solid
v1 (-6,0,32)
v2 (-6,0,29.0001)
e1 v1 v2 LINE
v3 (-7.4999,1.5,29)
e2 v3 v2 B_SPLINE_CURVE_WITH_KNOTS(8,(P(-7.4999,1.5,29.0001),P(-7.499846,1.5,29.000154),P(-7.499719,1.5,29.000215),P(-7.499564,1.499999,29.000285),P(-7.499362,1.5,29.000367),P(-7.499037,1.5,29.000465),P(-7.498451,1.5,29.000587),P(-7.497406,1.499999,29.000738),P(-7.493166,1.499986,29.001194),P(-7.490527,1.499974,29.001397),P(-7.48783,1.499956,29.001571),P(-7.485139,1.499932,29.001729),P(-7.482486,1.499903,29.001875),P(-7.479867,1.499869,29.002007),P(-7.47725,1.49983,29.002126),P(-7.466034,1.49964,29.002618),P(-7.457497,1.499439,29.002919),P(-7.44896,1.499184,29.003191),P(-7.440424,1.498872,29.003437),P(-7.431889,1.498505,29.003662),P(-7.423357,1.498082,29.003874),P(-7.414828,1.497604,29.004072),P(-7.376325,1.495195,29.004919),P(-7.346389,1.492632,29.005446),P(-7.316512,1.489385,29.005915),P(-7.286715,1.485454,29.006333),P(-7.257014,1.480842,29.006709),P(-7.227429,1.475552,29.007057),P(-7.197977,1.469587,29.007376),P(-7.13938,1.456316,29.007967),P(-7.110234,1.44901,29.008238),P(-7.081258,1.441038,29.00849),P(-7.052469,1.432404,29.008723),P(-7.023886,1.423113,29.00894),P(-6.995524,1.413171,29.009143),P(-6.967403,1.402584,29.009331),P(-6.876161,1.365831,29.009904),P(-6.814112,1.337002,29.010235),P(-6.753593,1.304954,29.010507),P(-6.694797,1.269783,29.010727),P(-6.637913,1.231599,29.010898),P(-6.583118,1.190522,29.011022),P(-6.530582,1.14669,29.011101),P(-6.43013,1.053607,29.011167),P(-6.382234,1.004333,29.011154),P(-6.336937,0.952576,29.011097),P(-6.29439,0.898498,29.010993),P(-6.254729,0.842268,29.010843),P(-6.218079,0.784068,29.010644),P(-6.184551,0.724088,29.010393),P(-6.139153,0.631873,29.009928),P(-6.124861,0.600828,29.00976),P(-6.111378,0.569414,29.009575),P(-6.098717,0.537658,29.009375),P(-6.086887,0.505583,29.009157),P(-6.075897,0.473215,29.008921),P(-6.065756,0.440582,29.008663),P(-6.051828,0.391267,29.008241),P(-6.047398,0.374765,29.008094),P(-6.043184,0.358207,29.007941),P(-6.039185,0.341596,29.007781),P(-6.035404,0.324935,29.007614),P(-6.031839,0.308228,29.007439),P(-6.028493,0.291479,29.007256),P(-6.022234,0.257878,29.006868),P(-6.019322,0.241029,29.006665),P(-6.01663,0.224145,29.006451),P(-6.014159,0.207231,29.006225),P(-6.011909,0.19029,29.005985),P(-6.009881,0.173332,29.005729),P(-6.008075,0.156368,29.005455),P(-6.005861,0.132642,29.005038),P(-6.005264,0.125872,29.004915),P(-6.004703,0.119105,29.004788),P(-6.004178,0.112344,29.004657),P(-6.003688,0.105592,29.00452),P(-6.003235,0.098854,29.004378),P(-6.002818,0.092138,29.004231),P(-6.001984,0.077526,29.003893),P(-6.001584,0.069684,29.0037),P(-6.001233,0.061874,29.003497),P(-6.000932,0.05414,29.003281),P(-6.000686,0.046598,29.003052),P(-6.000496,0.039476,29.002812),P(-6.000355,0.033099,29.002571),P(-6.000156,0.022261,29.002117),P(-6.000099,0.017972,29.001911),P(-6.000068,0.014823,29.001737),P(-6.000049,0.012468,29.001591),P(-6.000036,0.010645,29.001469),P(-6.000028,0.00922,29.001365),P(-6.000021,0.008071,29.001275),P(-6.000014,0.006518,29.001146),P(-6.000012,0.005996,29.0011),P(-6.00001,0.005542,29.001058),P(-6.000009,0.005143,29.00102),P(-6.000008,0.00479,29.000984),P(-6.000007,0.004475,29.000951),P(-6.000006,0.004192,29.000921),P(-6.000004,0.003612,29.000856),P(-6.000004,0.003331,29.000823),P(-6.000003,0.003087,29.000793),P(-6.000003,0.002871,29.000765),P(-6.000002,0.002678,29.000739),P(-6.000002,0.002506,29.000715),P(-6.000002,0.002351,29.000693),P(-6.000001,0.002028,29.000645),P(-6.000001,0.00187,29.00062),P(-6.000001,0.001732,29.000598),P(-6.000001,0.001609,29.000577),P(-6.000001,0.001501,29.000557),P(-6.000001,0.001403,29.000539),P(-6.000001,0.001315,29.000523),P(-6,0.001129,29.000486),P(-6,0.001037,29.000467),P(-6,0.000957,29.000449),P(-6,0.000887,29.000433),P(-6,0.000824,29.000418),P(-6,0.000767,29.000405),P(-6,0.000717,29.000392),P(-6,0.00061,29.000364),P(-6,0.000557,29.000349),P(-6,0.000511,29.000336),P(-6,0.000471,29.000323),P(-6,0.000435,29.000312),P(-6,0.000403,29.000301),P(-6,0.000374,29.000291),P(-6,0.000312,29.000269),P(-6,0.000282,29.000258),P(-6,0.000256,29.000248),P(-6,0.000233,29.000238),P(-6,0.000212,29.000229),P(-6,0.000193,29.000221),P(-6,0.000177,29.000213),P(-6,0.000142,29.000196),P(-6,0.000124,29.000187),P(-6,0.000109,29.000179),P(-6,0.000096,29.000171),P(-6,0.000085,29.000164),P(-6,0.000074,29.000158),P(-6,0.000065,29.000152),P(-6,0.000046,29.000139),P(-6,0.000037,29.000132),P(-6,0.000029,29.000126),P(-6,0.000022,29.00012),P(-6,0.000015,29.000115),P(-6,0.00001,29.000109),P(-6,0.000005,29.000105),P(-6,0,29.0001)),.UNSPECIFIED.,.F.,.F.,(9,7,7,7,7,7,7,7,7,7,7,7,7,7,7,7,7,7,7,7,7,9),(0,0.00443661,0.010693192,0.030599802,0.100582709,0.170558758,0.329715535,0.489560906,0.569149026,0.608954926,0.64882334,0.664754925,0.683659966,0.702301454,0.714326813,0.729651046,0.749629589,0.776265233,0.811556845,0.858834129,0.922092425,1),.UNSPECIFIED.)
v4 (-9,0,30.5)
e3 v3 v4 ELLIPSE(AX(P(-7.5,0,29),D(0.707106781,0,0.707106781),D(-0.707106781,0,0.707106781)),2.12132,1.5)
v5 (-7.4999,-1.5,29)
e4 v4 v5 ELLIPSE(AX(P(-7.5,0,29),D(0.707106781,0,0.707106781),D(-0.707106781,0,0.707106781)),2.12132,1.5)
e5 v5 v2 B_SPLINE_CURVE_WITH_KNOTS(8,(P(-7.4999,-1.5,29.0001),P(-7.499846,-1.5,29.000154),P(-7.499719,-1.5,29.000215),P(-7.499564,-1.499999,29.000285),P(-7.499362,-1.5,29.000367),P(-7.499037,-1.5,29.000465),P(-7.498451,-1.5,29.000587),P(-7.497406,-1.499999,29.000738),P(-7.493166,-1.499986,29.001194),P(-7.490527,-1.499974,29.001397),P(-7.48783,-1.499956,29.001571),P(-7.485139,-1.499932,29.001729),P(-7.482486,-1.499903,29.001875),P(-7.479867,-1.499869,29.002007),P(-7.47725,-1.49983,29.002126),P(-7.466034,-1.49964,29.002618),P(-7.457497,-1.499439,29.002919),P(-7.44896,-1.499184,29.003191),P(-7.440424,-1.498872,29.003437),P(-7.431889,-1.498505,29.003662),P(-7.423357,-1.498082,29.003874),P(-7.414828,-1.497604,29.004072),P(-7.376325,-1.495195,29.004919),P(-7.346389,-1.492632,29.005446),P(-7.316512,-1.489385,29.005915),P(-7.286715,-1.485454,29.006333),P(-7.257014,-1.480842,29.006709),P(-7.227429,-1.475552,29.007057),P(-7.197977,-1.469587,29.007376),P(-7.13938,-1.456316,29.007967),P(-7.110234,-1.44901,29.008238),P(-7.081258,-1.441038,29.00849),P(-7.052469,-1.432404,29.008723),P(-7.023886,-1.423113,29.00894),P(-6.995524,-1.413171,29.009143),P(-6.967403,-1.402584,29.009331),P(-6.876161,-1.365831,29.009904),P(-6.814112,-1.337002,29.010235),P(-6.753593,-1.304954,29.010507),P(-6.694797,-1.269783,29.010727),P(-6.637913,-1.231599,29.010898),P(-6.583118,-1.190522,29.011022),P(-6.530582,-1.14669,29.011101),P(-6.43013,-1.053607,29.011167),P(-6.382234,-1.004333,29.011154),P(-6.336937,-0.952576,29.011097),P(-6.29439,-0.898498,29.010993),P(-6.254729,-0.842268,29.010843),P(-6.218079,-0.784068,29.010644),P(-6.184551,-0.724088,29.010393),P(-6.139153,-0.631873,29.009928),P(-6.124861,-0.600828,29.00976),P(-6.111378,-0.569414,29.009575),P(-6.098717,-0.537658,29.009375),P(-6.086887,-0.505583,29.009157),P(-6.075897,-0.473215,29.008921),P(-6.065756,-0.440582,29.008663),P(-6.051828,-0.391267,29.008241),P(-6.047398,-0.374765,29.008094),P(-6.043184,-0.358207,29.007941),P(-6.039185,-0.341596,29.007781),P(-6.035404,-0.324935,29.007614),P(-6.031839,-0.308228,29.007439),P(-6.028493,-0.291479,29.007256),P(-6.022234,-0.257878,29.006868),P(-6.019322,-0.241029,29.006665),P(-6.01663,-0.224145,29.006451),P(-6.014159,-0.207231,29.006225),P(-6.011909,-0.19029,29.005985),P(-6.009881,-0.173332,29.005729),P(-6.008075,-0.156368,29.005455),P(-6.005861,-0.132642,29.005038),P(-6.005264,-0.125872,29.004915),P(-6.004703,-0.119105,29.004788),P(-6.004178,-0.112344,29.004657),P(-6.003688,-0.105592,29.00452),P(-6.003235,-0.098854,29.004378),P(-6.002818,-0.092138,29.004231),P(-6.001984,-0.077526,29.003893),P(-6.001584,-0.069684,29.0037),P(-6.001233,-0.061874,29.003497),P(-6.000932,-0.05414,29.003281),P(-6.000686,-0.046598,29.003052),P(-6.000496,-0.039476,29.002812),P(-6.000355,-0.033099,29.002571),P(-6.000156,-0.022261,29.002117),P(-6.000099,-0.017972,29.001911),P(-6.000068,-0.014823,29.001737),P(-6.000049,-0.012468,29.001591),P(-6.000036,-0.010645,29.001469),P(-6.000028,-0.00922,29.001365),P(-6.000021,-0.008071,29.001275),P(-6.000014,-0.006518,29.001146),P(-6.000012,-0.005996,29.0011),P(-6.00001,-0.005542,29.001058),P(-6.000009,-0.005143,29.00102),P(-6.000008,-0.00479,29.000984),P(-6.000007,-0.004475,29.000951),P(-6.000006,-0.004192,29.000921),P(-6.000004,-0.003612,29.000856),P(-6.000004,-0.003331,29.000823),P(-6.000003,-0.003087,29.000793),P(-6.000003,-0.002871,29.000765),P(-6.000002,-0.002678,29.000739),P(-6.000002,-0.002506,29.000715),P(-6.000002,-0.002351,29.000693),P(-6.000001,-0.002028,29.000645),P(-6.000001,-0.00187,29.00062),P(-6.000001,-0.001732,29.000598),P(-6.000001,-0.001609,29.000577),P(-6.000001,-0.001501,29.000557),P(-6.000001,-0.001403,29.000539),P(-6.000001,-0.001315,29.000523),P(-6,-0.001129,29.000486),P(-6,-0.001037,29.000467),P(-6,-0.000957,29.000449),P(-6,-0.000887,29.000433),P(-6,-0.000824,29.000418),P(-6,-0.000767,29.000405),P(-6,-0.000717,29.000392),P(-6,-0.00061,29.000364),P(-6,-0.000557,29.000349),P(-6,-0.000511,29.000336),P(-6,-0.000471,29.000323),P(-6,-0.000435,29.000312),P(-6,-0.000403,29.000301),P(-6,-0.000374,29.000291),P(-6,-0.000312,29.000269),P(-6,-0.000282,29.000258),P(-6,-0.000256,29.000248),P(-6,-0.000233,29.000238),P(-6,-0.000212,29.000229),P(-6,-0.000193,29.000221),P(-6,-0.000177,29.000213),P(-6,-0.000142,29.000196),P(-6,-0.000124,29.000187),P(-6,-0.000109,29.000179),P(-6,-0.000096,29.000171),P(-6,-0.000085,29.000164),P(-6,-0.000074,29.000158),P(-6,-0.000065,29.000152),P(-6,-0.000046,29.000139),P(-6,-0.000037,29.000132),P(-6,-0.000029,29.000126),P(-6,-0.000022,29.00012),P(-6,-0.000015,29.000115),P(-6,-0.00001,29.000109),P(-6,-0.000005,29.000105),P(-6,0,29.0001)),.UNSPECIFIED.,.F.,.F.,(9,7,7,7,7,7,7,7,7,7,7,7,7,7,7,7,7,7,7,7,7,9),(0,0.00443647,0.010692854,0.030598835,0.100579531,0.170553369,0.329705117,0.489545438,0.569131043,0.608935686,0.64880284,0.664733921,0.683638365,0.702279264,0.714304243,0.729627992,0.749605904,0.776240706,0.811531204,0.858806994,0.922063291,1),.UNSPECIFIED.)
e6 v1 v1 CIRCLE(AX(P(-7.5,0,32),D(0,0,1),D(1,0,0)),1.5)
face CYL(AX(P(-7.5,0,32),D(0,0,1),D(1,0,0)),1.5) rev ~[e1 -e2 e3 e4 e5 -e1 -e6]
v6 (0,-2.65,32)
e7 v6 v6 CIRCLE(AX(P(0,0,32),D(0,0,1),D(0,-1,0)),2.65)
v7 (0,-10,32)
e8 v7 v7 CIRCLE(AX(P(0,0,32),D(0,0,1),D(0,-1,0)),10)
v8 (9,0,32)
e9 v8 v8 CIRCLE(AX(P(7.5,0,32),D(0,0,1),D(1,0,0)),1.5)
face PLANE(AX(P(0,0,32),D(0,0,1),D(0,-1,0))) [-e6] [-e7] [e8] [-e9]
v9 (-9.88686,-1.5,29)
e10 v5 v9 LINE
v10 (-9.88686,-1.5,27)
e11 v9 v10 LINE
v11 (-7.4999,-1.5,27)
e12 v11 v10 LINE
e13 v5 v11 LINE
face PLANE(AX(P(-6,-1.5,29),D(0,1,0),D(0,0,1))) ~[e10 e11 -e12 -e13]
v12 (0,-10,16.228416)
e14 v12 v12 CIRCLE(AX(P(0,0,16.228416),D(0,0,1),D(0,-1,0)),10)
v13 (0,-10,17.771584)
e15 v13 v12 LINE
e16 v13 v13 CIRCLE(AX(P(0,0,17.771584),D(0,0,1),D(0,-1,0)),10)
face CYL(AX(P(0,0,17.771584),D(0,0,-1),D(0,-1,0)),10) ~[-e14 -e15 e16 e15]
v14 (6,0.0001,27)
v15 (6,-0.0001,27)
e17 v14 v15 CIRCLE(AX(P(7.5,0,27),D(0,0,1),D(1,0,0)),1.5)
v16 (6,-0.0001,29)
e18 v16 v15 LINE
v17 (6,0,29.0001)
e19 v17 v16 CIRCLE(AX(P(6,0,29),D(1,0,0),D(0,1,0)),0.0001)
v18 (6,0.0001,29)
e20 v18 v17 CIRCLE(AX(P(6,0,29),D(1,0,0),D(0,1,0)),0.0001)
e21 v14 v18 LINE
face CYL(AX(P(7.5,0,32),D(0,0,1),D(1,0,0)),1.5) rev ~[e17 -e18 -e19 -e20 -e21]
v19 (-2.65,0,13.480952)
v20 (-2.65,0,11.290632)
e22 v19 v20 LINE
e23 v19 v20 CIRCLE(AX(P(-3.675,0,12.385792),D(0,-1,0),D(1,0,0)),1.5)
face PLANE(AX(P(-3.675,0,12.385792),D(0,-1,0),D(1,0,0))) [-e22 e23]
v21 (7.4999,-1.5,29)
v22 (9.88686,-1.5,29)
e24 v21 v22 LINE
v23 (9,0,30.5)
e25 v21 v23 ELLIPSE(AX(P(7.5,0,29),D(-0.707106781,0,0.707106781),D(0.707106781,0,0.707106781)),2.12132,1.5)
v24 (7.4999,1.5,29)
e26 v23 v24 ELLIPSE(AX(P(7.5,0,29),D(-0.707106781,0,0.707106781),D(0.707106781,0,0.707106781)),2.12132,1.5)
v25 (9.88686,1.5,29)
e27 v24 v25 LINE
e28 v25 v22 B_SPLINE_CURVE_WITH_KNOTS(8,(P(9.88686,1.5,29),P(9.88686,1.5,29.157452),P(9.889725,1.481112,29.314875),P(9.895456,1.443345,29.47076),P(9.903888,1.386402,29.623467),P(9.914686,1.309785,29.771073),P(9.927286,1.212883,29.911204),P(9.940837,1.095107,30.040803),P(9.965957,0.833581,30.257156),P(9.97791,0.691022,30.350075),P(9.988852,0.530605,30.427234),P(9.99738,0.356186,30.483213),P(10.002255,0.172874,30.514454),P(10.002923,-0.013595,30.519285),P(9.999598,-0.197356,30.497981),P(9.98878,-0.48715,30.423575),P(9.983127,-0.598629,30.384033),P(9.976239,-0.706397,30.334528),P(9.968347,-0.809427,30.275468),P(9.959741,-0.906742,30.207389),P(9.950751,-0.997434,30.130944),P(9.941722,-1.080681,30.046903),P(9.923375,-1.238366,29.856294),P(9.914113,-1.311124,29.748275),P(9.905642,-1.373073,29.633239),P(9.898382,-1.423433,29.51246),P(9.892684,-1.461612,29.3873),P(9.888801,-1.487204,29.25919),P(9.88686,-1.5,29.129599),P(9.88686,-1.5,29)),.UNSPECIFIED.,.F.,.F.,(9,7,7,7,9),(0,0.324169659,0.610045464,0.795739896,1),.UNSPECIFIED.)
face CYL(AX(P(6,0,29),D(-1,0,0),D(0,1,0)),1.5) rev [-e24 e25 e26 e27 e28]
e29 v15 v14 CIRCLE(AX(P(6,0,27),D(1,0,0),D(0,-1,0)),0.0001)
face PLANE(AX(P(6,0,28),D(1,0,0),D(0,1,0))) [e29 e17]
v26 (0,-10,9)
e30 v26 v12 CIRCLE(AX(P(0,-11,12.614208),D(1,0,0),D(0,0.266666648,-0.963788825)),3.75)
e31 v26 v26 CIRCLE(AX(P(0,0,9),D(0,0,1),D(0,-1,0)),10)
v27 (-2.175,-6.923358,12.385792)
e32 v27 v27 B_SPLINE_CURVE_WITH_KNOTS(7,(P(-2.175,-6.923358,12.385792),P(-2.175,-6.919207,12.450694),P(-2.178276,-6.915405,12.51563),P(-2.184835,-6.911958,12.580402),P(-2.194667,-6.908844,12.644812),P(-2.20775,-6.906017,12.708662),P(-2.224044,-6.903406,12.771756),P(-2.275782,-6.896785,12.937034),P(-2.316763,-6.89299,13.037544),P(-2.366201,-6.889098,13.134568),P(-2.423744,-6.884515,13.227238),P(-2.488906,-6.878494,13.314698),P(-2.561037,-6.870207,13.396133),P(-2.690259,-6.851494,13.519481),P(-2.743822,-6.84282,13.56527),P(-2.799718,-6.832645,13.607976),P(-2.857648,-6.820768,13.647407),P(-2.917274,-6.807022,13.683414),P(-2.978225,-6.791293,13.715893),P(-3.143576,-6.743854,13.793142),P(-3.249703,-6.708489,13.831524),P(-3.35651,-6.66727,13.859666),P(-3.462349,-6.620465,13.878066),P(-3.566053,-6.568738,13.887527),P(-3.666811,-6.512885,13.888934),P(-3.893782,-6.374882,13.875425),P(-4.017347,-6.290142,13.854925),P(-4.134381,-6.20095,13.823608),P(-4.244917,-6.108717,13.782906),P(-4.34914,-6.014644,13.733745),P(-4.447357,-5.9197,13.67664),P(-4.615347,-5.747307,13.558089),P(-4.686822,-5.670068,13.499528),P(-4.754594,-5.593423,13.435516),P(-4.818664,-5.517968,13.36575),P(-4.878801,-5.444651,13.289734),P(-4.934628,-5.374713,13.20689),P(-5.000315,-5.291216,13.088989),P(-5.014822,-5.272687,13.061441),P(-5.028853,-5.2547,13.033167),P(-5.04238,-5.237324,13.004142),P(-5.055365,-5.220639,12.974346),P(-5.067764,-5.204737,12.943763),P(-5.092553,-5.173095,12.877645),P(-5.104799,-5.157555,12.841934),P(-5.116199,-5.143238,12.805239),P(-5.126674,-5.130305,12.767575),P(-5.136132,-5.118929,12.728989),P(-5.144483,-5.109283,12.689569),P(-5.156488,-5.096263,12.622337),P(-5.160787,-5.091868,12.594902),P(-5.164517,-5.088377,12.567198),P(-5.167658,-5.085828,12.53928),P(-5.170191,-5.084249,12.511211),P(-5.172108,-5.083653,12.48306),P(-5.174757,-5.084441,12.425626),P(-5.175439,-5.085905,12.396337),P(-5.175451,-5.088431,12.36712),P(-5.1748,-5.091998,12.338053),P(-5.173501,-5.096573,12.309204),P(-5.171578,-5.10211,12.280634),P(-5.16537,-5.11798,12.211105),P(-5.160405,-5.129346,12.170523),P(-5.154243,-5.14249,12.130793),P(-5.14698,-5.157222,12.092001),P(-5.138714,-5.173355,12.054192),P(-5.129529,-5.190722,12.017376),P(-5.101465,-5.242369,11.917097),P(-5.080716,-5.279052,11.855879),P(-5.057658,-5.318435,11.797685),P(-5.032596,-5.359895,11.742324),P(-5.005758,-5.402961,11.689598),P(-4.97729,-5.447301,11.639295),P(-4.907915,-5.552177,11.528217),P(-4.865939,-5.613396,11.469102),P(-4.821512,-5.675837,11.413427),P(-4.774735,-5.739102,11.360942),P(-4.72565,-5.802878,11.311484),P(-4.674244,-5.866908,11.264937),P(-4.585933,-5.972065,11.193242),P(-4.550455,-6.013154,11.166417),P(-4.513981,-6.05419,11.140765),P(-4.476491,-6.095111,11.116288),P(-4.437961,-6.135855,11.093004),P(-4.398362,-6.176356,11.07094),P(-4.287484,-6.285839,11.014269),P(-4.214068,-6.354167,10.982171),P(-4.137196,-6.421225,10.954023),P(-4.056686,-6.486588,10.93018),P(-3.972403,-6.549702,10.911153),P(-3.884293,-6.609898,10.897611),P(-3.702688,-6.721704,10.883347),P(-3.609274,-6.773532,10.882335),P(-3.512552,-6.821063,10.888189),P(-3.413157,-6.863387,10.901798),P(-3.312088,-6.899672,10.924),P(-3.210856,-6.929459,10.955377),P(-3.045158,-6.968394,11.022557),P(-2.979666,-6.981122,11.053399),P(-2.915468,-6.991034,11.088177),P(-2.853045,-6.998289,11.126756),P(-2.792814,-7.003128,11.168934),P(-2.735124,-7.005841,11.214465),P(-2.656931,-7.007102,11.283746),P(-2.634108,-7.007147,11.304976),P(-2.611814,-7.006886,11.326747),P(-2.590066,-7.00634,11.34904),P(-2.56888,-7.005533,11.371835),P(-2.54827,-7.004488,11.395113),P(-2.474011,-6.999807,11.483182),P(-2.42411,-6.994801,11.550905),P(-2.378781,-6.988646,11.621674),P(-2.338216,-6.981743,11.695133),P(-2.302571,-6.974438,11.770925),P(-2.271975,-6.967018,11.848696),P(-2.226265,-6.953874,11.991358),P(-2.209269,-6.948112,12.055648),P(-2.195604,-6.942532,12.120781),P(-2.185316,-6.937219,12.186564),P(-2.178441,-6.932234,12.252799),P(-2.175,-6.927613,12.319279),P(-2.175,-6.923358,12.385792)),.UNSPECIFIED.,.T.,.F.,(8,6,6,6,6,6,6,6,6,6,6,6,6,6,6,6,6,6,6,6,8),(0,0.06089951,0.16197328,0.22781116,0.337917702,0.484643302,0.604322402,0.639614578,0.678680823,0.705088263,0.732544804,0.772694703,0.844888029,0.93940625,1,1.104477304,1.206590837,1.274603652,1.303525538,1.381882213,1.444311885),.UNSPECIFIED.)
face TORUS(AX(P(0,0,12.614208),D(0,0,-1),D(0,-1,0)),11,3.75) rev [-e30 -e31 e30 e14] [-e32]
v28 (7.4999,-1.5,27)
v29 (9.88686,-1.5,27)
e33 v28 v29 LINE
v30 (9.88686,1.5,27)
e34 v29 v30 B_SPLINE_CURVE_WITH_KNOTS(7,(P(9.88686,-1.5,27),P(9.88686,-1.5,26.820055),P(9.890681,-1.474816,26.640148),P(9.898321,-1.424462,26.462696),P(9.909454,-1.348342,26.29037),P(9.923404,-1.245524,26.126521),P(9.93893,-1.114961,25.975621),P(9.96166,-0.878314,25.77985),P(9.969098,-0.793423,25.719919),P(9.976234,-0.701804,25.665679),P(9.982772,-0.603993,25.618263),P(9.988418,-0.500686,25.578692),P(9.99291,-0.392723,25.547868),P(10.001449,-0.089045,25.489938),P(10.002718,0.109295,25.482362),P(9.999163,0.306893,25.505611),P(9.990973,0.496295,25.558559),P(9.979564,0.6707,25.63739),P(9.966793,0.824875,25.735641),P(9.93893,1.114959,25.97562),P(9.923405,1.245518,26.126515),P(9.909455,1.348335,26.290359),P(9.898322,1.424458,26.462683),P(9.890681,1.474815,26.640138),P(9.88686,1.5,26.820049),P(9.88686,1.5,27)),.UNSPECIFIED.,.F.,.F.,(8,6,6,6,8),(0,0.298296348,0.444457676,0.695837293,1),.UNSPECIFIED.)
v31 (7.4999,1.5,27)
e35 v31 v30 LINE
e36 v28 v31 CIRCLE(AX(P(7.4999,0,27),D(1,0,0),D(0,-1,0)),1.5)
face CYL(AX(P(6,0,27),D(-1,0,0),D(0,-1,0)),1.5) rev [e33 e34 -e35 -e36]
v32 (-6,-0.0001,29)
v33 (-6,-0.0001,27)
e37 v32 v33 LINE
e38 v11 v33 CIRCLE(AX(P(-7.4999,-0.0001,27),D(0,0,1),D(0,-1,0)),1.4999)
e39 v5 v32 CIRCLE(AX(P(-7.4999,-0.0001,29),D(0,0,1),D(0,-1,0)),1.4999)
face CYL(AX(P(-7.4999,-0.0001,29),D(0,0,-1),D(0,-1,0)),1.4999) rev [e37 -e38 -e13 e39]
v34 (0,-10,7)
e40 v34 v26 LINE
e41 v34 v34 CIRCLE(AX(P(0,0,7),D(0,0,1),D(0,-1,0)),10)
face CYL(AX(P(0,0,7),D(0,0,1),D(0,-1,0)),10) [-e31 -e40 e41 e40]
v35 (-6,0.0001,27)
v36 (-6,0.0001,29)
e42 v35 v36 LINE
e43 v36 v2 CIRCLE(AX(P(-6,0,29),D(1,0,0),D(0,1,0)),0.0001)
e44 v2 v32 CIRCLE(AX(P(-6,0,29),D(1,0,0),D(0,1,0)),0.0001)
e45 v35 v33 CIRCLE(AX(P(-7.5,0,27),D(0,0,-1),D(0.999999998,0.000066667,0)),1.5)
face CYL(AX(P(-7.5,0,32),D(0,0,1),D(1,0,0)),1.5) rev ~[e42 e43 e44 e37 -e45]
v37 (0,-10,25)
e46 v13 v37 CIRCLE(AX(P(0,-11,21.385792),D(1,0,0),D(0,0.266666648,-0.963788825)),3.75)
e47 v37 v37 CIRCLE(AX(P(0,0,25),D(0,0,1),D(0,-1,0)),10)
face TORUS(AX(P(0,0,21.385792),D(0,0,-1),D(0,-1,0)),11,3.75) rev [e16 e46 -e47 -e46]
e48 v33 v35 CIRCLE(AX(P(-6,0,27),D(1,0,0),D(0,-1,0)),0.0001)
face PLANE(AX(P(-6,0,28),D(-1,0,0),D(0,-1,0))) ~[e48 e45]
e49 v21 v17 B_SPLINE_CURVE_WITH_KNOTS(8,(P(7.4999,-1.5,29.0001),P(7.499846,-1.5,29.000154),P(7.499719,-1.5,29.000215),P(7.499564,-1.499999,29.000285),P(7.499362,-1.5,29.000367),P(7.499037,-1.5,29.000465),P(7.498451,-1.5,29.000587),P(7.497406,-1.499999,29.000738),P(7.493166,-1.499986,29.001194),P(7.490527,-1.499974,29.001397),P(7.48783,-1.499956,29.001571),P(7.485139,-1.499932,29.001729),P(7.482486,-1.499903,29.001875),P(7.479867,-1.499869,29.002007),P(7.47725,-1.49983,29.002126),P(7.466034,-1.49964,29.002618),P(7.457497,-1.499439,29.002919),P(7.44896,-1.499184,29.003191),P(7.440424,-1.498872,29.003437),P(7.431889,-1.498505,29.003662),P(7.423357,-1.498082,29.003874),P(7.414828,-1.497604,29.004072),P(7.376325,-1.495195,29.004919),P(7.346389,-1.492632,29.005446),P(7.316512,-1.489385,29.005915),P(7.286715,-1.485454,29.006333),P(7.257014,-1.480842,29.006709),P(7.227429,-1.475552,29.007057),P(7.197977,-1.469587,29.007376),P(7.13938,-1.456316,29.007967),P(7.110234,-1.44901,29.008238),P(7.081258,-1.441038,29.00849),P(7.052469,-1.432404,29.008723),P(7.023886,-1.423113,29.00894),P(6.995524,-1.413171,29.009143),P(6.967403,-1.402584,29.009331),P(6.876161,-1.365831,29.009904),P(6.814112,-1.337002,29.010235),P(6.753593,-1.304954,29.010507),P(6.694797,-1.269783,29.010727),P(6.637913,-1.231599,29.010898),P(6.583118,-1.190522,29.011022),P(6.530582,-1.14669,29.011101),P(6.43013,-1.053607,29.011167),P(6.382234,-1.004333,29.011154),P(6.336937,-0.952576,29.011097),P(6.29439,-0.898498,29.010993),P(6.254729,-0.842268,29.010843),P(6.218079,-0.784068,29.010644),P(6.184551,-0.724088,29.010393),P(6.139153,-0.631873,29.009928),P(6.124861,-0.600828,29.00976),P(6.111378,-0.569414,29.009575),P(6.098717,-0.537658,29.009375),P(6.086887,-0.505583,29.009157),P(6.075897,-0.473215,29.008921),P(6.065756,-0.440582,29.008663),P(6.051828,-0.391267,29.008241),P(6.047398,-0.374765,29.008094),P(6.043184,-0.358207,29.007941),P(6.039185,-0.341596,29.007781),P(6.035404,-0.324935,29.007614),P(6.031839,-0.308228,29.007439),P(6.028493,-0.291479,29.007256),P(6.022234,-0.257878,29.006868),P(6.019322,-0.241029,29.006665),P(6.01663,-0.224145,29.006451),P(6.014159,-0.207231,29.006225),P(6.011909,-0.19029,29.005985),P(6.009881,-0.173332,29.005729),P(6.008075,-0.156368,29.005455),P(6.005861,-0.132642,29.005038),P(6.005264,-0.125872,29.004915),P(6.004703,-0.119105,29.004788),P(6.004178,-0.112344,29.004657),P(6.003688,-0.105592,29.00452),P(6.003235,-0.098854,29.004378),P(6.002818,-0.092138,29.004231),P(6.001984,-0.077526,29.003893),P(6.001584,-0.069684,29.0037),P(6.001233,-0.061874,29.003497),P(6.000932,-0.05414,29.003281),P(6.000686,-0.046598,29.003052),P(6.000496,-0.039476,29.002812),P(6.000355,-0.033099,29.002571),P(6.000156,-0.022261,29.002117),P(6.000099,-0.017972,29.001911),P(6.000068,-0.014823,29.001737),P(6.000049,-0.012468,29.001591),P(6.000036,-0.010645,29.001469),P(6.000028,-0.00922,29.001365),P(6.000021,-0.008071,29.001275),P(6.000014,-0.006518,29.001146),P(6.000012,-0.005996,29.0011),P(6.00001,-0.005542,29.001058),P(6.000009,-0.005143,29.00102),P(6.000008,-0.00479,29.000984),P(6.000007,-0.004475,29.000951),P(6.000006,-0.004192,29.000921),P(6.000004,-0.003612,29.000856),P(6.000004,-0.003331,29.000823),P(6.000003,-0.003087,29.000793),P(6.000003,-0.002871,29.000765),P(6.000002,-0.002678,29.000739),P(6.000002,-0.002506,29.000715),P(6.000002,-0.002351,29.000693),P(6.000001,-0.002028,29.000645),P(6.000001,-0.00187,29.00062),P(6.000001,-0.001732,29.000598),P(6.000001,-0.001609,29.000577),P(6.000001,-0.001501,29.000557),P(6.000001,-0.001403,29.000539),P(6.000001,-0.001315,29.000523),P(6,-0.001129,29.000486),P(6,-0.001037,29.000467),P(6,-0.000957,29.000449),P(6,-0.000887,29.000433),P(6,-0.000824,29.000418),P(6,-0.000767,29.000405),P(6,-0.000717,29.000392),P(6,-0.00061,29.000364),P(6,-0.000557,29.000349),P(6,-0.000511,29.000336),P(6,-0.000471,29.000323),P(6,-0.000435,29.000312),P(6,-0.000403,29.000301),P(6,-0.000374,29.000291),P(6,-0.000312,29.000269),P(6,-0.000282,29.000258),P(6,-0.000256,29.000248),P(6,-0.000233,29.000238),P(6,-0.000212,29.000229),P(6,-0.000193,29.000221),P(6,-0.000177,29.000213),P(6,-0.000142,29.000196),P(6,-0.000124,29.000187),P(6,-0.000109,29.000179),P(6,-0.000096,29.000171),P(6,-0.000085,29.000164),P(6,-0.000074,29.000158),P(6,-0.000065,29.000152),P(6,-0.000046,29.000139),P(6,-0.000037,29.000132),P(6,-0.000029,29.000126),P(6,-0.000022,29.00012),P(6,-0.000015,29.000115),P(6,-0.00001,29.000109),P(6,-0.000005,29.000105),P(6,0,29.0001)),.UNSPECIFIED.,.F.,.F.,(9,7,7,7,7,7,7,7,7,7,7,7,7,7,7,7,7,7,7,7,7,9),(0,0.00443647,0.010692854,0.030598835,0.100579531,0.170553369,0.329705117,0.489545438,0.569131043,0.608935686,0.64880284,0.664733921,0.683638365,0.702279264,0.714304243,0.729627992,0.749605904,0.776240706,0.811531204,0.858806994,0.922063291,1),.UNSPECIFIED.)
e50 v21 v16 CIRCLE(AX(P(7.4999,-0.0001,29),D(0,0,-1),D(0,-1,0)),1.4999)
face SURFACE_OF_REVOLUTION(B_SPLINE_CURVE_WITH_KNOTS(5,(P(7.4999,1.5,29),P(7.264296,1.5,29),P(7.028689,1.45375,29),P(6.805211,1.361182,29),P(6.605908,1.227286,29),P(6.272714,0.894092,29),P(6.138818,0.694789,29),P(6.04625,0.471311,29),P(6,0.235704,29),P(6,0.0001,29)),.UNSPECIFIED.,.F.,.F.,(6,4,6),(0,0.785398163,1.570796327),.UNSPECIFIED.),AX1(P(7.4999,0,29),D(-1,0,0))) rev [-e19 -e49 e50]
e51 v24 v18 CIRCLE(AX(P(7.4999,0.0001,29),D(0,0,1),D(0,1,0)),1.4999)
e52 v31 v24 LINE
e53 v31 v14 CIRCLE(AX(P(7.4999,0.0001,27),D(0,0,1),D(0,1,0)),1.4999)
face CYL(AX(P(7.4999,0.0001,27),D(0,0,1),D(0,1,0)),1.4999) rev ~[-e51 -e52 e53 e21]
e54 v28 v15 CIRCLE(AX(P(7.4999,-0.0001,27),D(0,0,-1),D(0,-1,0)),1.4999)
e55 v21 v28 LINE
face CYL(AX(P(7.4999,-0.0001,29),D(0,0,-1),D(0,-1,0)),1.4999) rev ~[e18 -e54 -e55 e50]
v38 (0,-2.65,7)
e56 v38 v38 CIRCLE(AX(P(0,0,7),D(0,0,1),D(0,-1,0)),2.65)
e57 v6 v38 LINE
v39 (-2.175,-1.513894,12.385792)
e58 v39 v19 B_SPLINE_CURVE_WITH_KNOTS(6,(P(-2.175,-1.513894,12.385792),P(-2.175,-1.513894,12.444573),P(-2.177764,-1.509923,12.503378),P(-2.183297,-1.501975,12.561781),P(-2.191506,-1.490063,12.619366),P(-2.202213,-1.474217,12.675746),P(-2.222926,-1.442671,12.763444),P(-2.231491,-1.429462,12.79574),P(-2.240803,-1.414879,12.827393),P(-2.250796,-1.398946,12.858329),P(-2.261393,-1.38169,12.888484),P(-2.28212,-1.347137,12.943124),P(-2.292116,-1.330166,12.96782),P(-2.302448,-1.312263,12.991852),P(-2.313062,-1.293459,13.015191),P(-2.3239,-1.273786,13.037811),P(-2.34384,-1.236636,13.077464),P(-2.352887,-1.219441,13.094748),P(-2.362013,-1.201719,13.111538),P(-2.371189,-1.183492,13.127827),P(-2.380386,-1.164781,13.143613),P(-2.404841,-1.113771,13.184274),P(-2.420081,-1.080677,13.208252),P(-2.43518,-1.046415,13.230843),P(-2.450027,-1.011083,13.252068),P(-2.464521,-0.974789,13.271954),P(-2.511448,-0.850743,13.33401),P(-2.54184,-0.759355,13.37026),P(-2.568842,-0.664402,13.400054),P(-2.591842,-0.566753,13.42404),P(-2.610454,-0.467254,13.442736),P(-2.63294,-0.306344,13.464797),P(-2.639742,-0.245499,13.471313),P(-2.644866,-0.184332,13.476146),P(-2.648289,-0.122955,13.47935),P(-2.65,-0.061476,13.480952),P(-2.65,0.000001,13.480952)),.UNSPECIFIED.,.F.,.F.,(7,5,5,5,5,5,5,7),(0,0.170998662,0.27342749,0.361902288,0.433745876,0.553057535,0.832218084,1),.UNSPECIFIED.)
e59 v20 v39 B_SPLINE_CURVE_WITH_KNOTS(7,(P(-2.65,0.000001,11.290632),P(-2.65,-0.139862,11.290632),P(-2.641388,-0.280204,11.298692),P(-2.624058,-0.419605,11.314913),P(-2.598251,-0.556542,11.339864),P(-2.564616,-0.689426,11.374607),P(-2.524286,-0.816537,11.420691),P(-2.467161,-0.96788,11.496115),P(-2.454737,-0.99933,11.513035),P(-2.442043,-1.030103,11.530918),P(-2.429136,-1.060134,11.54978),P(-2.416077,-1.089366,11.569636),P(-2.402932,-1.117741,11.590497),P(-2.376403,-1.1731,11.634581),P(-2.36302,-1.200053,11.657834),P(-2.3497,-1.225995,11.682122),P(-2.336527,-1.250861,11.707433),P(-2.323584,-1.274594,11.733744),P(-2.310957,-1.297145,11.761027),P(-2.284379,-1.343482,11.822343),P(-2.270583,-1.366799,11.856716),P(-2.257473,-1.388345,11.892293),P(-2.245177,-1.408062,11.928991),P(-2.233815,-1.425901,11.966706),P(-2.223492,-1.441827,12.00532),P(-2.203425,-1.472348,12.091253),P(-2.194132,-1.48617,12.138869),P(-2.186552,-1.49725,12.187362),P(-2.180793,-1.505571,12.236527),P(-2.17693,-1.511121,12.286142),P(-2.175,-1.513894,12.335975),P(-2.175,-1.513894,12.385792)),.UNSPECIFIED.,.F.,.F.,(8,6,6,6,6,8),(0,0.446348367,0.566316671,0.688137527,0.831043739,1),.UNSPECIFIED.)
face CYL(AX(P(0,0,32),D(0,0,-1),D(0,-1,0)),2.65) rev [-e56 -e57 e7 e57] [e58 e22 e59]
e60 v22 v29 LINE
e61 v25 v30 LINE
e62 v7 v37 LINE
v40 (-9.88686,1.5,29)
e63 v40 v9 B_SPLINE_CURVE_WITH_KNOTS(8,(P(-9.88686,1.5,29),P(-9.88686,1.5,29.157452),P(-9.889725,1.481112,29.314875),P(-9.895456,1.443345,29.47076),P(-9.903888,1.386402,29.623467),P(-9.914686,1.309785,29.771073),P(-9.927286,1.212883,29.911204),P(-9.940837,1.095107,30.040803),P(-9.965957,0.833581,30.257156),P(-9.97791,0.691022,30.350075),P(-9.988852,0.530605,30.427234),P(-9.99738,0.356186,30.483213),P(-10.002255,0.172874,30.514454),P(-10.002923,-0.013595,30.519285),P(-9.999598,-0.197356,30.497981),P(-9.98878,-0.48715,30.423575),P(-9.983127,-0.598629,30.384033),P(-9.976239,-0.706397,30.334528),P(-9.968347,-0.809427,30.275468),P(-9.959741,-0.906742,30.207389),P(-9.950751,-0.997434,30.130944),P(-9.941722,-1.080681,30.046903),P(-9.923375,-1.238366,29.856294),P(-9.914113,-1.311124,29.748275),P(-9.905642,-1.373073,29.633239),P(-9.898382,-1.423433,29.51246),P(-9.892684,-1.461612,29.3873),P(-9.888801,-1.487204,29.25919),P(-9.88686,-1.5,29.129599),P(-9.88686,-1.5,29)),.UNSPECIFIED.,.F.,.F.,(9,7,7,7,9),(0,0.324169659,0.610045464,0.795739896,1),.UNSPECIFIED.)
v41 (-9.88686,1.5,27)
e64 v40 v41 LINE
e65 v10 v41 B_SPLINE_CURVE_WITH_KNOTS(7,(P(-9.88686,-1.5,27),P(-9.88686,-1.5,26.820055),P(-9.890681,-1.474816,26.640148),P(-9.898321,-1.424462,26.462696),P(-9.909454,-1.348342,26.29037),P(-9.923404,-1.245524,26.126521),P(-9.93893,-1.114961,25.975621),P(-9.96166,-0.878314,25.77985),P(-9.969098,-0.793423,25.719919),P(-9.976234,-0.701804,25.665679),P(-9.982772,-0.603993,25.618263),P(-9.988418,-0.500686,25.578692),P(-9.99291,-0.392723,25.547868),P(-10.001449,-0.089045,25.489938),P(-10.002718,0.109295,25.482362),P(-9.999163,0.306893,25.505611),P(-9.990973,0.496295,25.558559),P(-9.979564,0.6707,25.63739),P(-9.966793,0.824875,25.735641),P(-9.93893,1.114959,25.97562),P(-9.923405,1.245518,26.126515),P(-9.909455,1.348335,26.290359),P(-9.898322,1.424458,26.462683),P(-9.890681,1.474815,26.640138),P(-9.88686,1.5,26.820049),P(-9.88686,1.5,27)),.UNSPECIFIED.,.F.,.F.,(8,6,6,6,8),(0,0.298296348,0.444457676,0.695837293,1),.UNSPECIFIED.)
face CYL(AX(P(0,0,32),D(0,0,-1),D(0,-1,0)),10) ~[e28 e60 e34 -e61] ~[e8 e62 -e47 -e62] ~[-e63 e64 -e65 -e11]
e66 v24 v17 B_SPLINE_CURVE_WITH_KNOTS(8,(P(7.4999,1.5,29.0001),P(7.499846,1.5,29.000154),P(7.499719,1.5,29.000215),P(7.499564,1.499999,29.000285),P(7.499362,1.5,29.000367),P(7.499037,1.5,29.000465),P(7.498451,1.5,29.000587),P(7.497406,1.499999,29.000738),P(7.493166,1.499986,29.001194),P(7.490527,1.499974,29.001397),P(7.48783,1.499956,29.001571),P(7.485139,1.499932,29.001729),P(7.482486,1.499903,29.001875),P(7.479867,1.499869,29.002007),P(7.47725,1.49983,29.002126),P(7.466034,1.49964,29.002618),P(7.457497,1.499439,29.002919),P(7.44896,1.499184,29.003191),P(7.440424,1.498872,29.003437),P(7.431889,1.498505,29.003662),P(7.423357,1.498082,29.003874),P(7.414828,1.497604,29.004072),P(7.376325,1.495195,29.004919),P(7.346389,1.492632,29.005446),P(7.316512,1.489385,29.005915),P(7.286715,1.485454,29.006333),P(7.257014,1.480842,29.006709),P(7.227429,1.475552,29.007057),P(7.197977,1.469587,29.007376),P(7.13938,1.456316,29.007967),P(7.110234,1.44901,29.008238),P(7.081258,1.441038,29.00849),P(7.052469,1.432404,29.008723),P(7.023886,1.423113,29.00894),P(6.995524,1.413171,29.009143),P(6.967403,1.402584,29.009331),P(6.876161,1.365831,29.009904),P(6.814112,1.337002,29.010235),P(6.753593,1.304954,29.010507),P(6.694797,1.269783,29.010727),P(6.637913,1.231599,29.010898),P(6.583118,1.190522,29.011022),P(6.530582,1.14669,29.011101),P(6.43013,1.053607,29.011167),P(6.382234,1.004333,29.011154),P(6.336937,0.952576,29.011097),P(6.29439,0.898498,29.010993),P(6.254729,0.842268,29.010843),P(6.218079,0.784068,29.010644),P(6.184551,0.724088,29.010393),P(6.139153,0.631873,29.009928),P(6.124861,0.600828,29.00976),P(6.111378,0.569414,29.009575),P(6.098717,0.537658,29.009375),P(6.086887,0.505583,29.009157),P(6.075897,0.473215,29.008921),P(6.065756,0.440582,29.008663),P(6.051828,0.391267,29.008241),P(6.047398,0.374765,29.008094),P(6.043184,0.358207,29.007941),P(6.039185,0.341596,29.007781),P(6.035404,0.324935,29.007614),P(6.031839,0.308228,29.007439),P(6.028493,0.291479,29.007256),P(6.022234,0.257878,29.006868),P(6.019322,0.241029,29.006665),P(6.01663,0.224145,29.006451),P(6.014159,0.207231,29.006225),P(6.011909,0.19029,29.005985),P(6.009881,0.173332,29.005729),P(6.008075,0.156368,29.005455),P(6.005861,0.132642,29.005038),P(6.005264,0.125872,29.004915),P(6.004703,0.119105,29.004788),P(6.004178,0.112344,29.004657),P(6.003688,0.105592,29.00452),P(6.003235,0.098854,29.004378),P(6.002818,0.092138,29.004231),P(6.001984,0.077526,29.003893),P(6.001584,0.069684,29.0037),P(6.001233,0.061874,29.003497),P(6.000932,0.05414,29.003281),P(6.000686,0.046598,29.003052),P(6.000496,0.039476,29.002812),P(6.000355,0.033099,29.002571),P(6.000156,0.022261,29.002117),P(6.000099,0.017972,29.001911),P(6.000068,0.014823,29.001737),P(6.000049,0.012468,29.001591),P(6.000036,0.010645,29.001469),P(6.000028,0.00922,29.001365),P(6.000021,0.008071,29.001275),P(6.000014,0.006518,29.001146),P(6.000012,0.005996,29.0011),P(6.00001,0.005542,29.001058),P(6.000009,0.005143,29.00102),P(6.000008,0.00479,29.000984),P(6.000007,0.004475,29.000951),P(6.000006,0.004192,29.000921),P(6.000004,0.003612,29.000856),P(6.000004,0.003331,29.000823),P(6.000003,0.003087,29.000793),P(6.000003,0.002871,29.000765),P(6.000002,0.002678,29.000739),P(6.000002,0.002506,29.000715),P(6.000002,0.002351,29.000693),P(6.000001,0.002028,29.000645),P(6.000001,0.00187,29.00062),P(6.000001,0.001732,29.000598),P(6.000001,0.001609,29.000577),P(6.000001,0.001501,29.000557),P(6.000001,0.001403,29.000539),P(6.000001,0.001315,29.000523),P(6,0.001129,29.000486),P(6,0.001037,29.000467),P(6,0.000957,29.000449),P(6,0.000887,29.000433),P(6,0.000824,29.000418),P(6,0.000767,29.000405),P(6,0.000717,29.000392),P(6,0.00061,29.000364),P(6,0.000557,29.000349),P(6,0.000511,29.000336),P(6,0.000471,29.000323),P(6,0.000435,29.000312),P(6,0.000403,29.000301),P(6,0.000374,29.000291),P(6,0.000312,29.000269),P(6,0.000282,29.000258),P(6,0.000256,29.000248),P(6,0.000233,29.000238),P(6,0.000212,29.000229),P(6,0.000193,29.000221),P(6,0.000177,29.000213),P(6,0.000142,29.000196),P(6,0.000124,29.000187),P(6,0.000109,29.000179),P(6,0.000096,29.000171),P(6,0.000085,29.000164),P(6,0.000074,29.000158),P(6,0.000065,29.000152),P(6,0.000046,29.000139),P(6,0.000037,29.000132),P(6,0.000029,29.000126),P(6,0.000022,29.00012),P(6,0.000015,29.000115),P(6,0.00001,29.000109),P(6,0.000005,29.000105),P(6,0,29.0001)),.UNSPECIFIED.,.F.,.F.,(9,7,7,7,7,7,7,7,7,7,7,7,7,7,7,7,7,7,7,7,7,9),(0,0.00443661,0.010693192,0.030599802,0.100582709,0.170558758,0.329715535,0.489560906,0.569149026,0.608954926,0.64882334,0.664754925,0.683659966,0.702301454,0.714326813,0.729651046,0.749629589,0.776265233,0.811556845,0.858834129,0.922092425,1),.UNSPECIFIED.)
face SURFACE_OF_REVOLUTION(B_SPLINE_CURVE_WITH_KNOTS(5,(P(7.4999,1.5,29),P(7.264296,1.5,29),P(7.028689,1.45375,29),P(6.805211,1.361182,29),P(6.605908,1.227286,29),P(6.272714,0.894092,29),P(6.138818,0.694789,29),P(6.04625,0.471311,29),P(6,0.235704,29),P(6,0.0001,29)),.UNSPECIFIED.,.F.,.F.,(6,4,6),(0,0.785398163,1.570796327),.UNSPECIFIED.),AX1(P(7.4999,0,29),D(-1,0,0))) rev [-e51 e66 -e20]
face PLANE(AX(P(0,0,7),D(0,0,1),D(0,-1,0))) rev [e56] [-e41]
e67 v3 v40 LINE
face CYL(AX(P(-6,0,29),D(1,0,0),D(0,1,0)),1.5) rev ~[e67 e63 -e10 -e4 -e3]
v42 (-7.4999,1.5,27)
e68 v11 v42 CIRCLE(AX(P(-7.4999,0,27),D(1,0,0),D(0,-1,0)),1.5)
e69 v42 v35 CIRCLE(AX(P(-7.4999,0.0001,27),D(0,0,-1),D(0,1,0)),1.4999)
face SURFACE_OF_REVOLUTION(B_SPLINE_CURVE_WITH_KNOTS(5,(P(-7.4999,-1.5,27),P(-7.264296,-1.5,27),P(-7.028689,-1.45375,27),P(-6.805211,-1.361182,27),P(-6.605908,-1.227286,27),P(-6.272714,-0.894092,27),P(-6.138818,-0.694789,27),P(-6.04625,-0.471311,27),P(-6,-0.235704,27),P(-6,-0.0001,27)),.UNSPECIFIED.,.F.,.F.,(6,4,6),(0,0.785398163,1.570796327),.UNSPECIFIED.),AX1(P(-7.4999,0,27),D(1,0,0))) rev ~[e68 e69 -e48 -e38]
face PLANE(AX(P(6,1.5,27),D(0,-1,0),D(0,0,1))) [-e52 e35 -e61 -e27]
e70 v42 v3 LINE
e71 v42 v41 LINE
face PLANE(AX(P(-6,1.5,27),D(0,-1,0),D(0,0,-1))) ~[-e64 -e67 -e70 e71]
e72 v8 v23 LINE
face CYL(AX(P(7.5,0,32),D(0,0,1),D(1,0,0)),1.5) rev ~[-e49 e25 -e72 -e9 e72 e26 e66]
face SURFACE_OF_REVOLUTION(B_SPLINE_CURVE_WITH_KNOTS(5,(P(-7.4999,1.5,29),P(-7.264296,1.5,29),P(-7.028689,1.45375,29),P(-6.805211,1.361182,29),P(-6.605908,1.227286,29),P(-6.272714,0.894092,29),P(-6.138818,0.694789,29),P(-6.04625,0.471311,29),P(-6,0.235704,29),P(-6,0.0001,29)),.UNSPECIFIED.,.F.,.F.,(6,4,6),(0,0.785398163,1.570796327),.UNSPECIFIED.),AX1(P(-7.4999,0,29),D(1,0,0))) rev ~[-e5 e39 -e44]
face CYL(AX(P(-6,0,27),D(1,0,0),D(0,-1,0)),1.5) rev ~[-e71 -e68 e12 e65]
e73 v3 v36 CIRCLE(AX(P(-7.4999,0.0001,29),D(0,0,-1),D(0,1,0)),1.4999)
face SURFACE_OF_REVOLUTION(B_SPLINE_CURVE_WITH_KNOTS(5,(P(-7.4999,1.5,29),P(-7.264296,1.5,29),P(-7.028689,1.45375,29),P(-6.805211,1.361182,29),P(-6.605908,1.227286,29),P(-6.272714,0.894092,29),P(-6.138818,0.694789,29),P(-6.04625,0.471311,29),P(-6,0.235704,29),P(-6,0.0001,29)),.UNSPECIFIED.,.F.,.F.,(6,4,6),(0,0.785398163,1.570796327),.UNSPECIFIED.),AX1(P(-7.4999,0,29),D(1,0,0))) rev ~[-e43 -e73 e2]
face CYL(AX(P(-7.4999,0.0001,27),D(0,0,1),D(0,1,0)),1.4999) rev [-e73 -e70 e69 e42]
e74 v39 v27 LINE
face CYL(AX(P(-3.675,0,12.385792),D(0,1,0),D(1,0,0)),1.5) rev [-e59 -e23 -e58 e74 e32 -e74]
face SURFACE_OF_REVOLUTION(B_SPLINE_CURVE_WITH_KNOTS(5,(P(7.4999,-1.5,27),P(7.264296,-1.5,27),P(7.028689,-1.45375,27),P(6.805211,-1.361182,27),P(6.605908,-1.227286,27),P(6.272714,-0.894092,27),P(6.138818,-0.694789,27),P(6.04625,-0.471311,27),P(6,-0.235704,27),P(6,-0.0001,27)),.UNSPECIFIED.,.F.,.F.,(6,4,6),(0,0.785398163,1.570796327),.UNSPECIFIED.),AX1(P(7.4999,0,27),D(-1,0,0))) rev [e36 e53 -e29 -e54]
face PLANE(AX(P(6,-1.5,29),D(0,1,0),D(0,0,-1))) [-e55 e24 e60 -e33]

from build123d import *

# Parameters (mm, degrees)
SKETCH029_R      = 1.5
EXTRUDE023_DEPTH = 20
EXTRUDE022_DEPTH = 5
FILLET010_R      = 1.4999
EXTRUDE021_DEPTH = 5
FILLET009_R      = 1.4999
SKETCH026_R      = 1.5
EXTRUDE020_DEPTH = 5


with BuildPart() as extrude023:
    # Sketch029 → Extrude023 (new body)
    with BuildSketch(Plane.XZ):
        with Locations((-3.675, 12.385792)):
            Circle(SKETCH029_R)
    extrude(amount=EXTRUDE023_DEPTH)


with BuildPart() as fillet010:
    # Sketch028 → Extrude022 (new body)
    with BuildSketch(Plane.YZ):
        with BuildLine():
            ThreePointArc((1.5, 27), (0, 28.5), (-1.5, 27))
            Line((-1.5, 27), (-1.5, 25))
            ThreePointArc((-1.5, 25), (0, 23.5), (1.5, 25))
            Line((1.5, 25), (1.5, 27))
        make_face()
    extrude(amount=EXTRUDE022_DEPTH)


with BuildPart() as fillet010_1:
    # Extrude022 placement: moved
    add(fillet010.part.moved(Location((6, 0, 0))))

    # Fillet010
    fillet010_edges = [fillet010_1.edges().sort_by_distance(p)[0] for p in [
        (6, 0, 28.5),
    ]]
    fillet(fillet010_edges, radius=FILLET010_R)


with BuildPart() as fillet010_2:
    # Fillet010 placement: moved
    add(fillet010_1.part.moved(Location((0, 0, 2))))


with BuildPart() as fillet009:
    # Sketch027 → Extrude021 (new body)
    with BuildSketch(Plane.YZ):
        with BuildLine():
            ThreePointArc((1.5, 27), (0, 28.5), (-1.5, 27))
            Line((-1.5, 27), (-1.5, 25))
            ThreePointArc((-1.5, 25), (0, 23.5), (1.5, 25))
            Line((1.5, 25), (1.5, 27))
        make_face()
    extrude(amount=EXTRUDE021_DEPTH)


with BuildPart() as fillet009_1:
    # Extrude021 placement: moved
    add(fillet009.part.moved(Location((6, 0, 0))))

    # Fillet009
    fillet009_edges = [fillet009_1.edges().sort_by_distance(p)[0] for p in [
        (6, 0, 28.5),
    ]]
    fillet(fillet009_edges, radius=FILLET009_R)


with BuildPart() as fillet009_2:
    # Fillet009 placement: moved
    add(fillet009_1.part.moved(Location((0, 0, 2))))


with BuildPart() as fusion008:
    # Part__Mirroring: instance of Fillet009
    add(fillet009_2.part.mirror(Plane(origin=(0, 0, 0), x_dir=(0, -1, 0), z_dir=(1, 0, 0))))

    # Fusion008: union Fillet010
    add(fillet010_2.part)


with BuildPart() as extrude020:
    # Sketch026 → Extrude020 (new body)
    with BuildSketch(Plane.XY):
        with Locations((7.5, 0)):
            Circle(SKETCH026_R)
        with Locations((-7.5, 0)):
            Circle(SKETCH026_R)
    extrude(amount=-EXTRUDE020_DEPTH)


with BuildPart() as extrude020_1:
    # Extrude020 placement: moved
    add(extrude020.part.moved(Location((0, 0, 32))))


with BuildPart() as cut008:
    # Sketch025 → Revolve001 (revolve)
    with BuildSketch(Plane.YZ):
        with BuildLine():
            Line((-2.65, 27), (-2.65, 7))
            Line((-2.65, 7), (-10, 7))
            Line((-10, 7), (-10, 9))
            ThreePointArc((-10, 9), (-7.25, 12.614208), (-10, 16.228416))
            Line((-10, 17.771584), (-10, 16.228416))
            ThreePointArc((-10, 17.771584), (-7.25, 21.385792), (-10, 25))
            Line((-10, 27), (-10, 25))
            Line((-10, 27), (-10, 32))
            Line((-10, 32), (-2.65, 32))
            Line((-2.65, 32), (-2.65, 27))
        make_face()
    revolve(axis=Axis((0, 0, 0), (0, 0, 1)))

    # Cut006: cut Extrude020
    add(extrude020_1.part, mode=Mode.SUBTRACT)

    # Cut007: cut Fusion008
    add(fusion008.part, mode=Mode.SUBTRACT)

    # Cut008: cut Extrude023
    add(extrude023.part, mode=Mode.SUBTRACT)


solid = cut008.part
